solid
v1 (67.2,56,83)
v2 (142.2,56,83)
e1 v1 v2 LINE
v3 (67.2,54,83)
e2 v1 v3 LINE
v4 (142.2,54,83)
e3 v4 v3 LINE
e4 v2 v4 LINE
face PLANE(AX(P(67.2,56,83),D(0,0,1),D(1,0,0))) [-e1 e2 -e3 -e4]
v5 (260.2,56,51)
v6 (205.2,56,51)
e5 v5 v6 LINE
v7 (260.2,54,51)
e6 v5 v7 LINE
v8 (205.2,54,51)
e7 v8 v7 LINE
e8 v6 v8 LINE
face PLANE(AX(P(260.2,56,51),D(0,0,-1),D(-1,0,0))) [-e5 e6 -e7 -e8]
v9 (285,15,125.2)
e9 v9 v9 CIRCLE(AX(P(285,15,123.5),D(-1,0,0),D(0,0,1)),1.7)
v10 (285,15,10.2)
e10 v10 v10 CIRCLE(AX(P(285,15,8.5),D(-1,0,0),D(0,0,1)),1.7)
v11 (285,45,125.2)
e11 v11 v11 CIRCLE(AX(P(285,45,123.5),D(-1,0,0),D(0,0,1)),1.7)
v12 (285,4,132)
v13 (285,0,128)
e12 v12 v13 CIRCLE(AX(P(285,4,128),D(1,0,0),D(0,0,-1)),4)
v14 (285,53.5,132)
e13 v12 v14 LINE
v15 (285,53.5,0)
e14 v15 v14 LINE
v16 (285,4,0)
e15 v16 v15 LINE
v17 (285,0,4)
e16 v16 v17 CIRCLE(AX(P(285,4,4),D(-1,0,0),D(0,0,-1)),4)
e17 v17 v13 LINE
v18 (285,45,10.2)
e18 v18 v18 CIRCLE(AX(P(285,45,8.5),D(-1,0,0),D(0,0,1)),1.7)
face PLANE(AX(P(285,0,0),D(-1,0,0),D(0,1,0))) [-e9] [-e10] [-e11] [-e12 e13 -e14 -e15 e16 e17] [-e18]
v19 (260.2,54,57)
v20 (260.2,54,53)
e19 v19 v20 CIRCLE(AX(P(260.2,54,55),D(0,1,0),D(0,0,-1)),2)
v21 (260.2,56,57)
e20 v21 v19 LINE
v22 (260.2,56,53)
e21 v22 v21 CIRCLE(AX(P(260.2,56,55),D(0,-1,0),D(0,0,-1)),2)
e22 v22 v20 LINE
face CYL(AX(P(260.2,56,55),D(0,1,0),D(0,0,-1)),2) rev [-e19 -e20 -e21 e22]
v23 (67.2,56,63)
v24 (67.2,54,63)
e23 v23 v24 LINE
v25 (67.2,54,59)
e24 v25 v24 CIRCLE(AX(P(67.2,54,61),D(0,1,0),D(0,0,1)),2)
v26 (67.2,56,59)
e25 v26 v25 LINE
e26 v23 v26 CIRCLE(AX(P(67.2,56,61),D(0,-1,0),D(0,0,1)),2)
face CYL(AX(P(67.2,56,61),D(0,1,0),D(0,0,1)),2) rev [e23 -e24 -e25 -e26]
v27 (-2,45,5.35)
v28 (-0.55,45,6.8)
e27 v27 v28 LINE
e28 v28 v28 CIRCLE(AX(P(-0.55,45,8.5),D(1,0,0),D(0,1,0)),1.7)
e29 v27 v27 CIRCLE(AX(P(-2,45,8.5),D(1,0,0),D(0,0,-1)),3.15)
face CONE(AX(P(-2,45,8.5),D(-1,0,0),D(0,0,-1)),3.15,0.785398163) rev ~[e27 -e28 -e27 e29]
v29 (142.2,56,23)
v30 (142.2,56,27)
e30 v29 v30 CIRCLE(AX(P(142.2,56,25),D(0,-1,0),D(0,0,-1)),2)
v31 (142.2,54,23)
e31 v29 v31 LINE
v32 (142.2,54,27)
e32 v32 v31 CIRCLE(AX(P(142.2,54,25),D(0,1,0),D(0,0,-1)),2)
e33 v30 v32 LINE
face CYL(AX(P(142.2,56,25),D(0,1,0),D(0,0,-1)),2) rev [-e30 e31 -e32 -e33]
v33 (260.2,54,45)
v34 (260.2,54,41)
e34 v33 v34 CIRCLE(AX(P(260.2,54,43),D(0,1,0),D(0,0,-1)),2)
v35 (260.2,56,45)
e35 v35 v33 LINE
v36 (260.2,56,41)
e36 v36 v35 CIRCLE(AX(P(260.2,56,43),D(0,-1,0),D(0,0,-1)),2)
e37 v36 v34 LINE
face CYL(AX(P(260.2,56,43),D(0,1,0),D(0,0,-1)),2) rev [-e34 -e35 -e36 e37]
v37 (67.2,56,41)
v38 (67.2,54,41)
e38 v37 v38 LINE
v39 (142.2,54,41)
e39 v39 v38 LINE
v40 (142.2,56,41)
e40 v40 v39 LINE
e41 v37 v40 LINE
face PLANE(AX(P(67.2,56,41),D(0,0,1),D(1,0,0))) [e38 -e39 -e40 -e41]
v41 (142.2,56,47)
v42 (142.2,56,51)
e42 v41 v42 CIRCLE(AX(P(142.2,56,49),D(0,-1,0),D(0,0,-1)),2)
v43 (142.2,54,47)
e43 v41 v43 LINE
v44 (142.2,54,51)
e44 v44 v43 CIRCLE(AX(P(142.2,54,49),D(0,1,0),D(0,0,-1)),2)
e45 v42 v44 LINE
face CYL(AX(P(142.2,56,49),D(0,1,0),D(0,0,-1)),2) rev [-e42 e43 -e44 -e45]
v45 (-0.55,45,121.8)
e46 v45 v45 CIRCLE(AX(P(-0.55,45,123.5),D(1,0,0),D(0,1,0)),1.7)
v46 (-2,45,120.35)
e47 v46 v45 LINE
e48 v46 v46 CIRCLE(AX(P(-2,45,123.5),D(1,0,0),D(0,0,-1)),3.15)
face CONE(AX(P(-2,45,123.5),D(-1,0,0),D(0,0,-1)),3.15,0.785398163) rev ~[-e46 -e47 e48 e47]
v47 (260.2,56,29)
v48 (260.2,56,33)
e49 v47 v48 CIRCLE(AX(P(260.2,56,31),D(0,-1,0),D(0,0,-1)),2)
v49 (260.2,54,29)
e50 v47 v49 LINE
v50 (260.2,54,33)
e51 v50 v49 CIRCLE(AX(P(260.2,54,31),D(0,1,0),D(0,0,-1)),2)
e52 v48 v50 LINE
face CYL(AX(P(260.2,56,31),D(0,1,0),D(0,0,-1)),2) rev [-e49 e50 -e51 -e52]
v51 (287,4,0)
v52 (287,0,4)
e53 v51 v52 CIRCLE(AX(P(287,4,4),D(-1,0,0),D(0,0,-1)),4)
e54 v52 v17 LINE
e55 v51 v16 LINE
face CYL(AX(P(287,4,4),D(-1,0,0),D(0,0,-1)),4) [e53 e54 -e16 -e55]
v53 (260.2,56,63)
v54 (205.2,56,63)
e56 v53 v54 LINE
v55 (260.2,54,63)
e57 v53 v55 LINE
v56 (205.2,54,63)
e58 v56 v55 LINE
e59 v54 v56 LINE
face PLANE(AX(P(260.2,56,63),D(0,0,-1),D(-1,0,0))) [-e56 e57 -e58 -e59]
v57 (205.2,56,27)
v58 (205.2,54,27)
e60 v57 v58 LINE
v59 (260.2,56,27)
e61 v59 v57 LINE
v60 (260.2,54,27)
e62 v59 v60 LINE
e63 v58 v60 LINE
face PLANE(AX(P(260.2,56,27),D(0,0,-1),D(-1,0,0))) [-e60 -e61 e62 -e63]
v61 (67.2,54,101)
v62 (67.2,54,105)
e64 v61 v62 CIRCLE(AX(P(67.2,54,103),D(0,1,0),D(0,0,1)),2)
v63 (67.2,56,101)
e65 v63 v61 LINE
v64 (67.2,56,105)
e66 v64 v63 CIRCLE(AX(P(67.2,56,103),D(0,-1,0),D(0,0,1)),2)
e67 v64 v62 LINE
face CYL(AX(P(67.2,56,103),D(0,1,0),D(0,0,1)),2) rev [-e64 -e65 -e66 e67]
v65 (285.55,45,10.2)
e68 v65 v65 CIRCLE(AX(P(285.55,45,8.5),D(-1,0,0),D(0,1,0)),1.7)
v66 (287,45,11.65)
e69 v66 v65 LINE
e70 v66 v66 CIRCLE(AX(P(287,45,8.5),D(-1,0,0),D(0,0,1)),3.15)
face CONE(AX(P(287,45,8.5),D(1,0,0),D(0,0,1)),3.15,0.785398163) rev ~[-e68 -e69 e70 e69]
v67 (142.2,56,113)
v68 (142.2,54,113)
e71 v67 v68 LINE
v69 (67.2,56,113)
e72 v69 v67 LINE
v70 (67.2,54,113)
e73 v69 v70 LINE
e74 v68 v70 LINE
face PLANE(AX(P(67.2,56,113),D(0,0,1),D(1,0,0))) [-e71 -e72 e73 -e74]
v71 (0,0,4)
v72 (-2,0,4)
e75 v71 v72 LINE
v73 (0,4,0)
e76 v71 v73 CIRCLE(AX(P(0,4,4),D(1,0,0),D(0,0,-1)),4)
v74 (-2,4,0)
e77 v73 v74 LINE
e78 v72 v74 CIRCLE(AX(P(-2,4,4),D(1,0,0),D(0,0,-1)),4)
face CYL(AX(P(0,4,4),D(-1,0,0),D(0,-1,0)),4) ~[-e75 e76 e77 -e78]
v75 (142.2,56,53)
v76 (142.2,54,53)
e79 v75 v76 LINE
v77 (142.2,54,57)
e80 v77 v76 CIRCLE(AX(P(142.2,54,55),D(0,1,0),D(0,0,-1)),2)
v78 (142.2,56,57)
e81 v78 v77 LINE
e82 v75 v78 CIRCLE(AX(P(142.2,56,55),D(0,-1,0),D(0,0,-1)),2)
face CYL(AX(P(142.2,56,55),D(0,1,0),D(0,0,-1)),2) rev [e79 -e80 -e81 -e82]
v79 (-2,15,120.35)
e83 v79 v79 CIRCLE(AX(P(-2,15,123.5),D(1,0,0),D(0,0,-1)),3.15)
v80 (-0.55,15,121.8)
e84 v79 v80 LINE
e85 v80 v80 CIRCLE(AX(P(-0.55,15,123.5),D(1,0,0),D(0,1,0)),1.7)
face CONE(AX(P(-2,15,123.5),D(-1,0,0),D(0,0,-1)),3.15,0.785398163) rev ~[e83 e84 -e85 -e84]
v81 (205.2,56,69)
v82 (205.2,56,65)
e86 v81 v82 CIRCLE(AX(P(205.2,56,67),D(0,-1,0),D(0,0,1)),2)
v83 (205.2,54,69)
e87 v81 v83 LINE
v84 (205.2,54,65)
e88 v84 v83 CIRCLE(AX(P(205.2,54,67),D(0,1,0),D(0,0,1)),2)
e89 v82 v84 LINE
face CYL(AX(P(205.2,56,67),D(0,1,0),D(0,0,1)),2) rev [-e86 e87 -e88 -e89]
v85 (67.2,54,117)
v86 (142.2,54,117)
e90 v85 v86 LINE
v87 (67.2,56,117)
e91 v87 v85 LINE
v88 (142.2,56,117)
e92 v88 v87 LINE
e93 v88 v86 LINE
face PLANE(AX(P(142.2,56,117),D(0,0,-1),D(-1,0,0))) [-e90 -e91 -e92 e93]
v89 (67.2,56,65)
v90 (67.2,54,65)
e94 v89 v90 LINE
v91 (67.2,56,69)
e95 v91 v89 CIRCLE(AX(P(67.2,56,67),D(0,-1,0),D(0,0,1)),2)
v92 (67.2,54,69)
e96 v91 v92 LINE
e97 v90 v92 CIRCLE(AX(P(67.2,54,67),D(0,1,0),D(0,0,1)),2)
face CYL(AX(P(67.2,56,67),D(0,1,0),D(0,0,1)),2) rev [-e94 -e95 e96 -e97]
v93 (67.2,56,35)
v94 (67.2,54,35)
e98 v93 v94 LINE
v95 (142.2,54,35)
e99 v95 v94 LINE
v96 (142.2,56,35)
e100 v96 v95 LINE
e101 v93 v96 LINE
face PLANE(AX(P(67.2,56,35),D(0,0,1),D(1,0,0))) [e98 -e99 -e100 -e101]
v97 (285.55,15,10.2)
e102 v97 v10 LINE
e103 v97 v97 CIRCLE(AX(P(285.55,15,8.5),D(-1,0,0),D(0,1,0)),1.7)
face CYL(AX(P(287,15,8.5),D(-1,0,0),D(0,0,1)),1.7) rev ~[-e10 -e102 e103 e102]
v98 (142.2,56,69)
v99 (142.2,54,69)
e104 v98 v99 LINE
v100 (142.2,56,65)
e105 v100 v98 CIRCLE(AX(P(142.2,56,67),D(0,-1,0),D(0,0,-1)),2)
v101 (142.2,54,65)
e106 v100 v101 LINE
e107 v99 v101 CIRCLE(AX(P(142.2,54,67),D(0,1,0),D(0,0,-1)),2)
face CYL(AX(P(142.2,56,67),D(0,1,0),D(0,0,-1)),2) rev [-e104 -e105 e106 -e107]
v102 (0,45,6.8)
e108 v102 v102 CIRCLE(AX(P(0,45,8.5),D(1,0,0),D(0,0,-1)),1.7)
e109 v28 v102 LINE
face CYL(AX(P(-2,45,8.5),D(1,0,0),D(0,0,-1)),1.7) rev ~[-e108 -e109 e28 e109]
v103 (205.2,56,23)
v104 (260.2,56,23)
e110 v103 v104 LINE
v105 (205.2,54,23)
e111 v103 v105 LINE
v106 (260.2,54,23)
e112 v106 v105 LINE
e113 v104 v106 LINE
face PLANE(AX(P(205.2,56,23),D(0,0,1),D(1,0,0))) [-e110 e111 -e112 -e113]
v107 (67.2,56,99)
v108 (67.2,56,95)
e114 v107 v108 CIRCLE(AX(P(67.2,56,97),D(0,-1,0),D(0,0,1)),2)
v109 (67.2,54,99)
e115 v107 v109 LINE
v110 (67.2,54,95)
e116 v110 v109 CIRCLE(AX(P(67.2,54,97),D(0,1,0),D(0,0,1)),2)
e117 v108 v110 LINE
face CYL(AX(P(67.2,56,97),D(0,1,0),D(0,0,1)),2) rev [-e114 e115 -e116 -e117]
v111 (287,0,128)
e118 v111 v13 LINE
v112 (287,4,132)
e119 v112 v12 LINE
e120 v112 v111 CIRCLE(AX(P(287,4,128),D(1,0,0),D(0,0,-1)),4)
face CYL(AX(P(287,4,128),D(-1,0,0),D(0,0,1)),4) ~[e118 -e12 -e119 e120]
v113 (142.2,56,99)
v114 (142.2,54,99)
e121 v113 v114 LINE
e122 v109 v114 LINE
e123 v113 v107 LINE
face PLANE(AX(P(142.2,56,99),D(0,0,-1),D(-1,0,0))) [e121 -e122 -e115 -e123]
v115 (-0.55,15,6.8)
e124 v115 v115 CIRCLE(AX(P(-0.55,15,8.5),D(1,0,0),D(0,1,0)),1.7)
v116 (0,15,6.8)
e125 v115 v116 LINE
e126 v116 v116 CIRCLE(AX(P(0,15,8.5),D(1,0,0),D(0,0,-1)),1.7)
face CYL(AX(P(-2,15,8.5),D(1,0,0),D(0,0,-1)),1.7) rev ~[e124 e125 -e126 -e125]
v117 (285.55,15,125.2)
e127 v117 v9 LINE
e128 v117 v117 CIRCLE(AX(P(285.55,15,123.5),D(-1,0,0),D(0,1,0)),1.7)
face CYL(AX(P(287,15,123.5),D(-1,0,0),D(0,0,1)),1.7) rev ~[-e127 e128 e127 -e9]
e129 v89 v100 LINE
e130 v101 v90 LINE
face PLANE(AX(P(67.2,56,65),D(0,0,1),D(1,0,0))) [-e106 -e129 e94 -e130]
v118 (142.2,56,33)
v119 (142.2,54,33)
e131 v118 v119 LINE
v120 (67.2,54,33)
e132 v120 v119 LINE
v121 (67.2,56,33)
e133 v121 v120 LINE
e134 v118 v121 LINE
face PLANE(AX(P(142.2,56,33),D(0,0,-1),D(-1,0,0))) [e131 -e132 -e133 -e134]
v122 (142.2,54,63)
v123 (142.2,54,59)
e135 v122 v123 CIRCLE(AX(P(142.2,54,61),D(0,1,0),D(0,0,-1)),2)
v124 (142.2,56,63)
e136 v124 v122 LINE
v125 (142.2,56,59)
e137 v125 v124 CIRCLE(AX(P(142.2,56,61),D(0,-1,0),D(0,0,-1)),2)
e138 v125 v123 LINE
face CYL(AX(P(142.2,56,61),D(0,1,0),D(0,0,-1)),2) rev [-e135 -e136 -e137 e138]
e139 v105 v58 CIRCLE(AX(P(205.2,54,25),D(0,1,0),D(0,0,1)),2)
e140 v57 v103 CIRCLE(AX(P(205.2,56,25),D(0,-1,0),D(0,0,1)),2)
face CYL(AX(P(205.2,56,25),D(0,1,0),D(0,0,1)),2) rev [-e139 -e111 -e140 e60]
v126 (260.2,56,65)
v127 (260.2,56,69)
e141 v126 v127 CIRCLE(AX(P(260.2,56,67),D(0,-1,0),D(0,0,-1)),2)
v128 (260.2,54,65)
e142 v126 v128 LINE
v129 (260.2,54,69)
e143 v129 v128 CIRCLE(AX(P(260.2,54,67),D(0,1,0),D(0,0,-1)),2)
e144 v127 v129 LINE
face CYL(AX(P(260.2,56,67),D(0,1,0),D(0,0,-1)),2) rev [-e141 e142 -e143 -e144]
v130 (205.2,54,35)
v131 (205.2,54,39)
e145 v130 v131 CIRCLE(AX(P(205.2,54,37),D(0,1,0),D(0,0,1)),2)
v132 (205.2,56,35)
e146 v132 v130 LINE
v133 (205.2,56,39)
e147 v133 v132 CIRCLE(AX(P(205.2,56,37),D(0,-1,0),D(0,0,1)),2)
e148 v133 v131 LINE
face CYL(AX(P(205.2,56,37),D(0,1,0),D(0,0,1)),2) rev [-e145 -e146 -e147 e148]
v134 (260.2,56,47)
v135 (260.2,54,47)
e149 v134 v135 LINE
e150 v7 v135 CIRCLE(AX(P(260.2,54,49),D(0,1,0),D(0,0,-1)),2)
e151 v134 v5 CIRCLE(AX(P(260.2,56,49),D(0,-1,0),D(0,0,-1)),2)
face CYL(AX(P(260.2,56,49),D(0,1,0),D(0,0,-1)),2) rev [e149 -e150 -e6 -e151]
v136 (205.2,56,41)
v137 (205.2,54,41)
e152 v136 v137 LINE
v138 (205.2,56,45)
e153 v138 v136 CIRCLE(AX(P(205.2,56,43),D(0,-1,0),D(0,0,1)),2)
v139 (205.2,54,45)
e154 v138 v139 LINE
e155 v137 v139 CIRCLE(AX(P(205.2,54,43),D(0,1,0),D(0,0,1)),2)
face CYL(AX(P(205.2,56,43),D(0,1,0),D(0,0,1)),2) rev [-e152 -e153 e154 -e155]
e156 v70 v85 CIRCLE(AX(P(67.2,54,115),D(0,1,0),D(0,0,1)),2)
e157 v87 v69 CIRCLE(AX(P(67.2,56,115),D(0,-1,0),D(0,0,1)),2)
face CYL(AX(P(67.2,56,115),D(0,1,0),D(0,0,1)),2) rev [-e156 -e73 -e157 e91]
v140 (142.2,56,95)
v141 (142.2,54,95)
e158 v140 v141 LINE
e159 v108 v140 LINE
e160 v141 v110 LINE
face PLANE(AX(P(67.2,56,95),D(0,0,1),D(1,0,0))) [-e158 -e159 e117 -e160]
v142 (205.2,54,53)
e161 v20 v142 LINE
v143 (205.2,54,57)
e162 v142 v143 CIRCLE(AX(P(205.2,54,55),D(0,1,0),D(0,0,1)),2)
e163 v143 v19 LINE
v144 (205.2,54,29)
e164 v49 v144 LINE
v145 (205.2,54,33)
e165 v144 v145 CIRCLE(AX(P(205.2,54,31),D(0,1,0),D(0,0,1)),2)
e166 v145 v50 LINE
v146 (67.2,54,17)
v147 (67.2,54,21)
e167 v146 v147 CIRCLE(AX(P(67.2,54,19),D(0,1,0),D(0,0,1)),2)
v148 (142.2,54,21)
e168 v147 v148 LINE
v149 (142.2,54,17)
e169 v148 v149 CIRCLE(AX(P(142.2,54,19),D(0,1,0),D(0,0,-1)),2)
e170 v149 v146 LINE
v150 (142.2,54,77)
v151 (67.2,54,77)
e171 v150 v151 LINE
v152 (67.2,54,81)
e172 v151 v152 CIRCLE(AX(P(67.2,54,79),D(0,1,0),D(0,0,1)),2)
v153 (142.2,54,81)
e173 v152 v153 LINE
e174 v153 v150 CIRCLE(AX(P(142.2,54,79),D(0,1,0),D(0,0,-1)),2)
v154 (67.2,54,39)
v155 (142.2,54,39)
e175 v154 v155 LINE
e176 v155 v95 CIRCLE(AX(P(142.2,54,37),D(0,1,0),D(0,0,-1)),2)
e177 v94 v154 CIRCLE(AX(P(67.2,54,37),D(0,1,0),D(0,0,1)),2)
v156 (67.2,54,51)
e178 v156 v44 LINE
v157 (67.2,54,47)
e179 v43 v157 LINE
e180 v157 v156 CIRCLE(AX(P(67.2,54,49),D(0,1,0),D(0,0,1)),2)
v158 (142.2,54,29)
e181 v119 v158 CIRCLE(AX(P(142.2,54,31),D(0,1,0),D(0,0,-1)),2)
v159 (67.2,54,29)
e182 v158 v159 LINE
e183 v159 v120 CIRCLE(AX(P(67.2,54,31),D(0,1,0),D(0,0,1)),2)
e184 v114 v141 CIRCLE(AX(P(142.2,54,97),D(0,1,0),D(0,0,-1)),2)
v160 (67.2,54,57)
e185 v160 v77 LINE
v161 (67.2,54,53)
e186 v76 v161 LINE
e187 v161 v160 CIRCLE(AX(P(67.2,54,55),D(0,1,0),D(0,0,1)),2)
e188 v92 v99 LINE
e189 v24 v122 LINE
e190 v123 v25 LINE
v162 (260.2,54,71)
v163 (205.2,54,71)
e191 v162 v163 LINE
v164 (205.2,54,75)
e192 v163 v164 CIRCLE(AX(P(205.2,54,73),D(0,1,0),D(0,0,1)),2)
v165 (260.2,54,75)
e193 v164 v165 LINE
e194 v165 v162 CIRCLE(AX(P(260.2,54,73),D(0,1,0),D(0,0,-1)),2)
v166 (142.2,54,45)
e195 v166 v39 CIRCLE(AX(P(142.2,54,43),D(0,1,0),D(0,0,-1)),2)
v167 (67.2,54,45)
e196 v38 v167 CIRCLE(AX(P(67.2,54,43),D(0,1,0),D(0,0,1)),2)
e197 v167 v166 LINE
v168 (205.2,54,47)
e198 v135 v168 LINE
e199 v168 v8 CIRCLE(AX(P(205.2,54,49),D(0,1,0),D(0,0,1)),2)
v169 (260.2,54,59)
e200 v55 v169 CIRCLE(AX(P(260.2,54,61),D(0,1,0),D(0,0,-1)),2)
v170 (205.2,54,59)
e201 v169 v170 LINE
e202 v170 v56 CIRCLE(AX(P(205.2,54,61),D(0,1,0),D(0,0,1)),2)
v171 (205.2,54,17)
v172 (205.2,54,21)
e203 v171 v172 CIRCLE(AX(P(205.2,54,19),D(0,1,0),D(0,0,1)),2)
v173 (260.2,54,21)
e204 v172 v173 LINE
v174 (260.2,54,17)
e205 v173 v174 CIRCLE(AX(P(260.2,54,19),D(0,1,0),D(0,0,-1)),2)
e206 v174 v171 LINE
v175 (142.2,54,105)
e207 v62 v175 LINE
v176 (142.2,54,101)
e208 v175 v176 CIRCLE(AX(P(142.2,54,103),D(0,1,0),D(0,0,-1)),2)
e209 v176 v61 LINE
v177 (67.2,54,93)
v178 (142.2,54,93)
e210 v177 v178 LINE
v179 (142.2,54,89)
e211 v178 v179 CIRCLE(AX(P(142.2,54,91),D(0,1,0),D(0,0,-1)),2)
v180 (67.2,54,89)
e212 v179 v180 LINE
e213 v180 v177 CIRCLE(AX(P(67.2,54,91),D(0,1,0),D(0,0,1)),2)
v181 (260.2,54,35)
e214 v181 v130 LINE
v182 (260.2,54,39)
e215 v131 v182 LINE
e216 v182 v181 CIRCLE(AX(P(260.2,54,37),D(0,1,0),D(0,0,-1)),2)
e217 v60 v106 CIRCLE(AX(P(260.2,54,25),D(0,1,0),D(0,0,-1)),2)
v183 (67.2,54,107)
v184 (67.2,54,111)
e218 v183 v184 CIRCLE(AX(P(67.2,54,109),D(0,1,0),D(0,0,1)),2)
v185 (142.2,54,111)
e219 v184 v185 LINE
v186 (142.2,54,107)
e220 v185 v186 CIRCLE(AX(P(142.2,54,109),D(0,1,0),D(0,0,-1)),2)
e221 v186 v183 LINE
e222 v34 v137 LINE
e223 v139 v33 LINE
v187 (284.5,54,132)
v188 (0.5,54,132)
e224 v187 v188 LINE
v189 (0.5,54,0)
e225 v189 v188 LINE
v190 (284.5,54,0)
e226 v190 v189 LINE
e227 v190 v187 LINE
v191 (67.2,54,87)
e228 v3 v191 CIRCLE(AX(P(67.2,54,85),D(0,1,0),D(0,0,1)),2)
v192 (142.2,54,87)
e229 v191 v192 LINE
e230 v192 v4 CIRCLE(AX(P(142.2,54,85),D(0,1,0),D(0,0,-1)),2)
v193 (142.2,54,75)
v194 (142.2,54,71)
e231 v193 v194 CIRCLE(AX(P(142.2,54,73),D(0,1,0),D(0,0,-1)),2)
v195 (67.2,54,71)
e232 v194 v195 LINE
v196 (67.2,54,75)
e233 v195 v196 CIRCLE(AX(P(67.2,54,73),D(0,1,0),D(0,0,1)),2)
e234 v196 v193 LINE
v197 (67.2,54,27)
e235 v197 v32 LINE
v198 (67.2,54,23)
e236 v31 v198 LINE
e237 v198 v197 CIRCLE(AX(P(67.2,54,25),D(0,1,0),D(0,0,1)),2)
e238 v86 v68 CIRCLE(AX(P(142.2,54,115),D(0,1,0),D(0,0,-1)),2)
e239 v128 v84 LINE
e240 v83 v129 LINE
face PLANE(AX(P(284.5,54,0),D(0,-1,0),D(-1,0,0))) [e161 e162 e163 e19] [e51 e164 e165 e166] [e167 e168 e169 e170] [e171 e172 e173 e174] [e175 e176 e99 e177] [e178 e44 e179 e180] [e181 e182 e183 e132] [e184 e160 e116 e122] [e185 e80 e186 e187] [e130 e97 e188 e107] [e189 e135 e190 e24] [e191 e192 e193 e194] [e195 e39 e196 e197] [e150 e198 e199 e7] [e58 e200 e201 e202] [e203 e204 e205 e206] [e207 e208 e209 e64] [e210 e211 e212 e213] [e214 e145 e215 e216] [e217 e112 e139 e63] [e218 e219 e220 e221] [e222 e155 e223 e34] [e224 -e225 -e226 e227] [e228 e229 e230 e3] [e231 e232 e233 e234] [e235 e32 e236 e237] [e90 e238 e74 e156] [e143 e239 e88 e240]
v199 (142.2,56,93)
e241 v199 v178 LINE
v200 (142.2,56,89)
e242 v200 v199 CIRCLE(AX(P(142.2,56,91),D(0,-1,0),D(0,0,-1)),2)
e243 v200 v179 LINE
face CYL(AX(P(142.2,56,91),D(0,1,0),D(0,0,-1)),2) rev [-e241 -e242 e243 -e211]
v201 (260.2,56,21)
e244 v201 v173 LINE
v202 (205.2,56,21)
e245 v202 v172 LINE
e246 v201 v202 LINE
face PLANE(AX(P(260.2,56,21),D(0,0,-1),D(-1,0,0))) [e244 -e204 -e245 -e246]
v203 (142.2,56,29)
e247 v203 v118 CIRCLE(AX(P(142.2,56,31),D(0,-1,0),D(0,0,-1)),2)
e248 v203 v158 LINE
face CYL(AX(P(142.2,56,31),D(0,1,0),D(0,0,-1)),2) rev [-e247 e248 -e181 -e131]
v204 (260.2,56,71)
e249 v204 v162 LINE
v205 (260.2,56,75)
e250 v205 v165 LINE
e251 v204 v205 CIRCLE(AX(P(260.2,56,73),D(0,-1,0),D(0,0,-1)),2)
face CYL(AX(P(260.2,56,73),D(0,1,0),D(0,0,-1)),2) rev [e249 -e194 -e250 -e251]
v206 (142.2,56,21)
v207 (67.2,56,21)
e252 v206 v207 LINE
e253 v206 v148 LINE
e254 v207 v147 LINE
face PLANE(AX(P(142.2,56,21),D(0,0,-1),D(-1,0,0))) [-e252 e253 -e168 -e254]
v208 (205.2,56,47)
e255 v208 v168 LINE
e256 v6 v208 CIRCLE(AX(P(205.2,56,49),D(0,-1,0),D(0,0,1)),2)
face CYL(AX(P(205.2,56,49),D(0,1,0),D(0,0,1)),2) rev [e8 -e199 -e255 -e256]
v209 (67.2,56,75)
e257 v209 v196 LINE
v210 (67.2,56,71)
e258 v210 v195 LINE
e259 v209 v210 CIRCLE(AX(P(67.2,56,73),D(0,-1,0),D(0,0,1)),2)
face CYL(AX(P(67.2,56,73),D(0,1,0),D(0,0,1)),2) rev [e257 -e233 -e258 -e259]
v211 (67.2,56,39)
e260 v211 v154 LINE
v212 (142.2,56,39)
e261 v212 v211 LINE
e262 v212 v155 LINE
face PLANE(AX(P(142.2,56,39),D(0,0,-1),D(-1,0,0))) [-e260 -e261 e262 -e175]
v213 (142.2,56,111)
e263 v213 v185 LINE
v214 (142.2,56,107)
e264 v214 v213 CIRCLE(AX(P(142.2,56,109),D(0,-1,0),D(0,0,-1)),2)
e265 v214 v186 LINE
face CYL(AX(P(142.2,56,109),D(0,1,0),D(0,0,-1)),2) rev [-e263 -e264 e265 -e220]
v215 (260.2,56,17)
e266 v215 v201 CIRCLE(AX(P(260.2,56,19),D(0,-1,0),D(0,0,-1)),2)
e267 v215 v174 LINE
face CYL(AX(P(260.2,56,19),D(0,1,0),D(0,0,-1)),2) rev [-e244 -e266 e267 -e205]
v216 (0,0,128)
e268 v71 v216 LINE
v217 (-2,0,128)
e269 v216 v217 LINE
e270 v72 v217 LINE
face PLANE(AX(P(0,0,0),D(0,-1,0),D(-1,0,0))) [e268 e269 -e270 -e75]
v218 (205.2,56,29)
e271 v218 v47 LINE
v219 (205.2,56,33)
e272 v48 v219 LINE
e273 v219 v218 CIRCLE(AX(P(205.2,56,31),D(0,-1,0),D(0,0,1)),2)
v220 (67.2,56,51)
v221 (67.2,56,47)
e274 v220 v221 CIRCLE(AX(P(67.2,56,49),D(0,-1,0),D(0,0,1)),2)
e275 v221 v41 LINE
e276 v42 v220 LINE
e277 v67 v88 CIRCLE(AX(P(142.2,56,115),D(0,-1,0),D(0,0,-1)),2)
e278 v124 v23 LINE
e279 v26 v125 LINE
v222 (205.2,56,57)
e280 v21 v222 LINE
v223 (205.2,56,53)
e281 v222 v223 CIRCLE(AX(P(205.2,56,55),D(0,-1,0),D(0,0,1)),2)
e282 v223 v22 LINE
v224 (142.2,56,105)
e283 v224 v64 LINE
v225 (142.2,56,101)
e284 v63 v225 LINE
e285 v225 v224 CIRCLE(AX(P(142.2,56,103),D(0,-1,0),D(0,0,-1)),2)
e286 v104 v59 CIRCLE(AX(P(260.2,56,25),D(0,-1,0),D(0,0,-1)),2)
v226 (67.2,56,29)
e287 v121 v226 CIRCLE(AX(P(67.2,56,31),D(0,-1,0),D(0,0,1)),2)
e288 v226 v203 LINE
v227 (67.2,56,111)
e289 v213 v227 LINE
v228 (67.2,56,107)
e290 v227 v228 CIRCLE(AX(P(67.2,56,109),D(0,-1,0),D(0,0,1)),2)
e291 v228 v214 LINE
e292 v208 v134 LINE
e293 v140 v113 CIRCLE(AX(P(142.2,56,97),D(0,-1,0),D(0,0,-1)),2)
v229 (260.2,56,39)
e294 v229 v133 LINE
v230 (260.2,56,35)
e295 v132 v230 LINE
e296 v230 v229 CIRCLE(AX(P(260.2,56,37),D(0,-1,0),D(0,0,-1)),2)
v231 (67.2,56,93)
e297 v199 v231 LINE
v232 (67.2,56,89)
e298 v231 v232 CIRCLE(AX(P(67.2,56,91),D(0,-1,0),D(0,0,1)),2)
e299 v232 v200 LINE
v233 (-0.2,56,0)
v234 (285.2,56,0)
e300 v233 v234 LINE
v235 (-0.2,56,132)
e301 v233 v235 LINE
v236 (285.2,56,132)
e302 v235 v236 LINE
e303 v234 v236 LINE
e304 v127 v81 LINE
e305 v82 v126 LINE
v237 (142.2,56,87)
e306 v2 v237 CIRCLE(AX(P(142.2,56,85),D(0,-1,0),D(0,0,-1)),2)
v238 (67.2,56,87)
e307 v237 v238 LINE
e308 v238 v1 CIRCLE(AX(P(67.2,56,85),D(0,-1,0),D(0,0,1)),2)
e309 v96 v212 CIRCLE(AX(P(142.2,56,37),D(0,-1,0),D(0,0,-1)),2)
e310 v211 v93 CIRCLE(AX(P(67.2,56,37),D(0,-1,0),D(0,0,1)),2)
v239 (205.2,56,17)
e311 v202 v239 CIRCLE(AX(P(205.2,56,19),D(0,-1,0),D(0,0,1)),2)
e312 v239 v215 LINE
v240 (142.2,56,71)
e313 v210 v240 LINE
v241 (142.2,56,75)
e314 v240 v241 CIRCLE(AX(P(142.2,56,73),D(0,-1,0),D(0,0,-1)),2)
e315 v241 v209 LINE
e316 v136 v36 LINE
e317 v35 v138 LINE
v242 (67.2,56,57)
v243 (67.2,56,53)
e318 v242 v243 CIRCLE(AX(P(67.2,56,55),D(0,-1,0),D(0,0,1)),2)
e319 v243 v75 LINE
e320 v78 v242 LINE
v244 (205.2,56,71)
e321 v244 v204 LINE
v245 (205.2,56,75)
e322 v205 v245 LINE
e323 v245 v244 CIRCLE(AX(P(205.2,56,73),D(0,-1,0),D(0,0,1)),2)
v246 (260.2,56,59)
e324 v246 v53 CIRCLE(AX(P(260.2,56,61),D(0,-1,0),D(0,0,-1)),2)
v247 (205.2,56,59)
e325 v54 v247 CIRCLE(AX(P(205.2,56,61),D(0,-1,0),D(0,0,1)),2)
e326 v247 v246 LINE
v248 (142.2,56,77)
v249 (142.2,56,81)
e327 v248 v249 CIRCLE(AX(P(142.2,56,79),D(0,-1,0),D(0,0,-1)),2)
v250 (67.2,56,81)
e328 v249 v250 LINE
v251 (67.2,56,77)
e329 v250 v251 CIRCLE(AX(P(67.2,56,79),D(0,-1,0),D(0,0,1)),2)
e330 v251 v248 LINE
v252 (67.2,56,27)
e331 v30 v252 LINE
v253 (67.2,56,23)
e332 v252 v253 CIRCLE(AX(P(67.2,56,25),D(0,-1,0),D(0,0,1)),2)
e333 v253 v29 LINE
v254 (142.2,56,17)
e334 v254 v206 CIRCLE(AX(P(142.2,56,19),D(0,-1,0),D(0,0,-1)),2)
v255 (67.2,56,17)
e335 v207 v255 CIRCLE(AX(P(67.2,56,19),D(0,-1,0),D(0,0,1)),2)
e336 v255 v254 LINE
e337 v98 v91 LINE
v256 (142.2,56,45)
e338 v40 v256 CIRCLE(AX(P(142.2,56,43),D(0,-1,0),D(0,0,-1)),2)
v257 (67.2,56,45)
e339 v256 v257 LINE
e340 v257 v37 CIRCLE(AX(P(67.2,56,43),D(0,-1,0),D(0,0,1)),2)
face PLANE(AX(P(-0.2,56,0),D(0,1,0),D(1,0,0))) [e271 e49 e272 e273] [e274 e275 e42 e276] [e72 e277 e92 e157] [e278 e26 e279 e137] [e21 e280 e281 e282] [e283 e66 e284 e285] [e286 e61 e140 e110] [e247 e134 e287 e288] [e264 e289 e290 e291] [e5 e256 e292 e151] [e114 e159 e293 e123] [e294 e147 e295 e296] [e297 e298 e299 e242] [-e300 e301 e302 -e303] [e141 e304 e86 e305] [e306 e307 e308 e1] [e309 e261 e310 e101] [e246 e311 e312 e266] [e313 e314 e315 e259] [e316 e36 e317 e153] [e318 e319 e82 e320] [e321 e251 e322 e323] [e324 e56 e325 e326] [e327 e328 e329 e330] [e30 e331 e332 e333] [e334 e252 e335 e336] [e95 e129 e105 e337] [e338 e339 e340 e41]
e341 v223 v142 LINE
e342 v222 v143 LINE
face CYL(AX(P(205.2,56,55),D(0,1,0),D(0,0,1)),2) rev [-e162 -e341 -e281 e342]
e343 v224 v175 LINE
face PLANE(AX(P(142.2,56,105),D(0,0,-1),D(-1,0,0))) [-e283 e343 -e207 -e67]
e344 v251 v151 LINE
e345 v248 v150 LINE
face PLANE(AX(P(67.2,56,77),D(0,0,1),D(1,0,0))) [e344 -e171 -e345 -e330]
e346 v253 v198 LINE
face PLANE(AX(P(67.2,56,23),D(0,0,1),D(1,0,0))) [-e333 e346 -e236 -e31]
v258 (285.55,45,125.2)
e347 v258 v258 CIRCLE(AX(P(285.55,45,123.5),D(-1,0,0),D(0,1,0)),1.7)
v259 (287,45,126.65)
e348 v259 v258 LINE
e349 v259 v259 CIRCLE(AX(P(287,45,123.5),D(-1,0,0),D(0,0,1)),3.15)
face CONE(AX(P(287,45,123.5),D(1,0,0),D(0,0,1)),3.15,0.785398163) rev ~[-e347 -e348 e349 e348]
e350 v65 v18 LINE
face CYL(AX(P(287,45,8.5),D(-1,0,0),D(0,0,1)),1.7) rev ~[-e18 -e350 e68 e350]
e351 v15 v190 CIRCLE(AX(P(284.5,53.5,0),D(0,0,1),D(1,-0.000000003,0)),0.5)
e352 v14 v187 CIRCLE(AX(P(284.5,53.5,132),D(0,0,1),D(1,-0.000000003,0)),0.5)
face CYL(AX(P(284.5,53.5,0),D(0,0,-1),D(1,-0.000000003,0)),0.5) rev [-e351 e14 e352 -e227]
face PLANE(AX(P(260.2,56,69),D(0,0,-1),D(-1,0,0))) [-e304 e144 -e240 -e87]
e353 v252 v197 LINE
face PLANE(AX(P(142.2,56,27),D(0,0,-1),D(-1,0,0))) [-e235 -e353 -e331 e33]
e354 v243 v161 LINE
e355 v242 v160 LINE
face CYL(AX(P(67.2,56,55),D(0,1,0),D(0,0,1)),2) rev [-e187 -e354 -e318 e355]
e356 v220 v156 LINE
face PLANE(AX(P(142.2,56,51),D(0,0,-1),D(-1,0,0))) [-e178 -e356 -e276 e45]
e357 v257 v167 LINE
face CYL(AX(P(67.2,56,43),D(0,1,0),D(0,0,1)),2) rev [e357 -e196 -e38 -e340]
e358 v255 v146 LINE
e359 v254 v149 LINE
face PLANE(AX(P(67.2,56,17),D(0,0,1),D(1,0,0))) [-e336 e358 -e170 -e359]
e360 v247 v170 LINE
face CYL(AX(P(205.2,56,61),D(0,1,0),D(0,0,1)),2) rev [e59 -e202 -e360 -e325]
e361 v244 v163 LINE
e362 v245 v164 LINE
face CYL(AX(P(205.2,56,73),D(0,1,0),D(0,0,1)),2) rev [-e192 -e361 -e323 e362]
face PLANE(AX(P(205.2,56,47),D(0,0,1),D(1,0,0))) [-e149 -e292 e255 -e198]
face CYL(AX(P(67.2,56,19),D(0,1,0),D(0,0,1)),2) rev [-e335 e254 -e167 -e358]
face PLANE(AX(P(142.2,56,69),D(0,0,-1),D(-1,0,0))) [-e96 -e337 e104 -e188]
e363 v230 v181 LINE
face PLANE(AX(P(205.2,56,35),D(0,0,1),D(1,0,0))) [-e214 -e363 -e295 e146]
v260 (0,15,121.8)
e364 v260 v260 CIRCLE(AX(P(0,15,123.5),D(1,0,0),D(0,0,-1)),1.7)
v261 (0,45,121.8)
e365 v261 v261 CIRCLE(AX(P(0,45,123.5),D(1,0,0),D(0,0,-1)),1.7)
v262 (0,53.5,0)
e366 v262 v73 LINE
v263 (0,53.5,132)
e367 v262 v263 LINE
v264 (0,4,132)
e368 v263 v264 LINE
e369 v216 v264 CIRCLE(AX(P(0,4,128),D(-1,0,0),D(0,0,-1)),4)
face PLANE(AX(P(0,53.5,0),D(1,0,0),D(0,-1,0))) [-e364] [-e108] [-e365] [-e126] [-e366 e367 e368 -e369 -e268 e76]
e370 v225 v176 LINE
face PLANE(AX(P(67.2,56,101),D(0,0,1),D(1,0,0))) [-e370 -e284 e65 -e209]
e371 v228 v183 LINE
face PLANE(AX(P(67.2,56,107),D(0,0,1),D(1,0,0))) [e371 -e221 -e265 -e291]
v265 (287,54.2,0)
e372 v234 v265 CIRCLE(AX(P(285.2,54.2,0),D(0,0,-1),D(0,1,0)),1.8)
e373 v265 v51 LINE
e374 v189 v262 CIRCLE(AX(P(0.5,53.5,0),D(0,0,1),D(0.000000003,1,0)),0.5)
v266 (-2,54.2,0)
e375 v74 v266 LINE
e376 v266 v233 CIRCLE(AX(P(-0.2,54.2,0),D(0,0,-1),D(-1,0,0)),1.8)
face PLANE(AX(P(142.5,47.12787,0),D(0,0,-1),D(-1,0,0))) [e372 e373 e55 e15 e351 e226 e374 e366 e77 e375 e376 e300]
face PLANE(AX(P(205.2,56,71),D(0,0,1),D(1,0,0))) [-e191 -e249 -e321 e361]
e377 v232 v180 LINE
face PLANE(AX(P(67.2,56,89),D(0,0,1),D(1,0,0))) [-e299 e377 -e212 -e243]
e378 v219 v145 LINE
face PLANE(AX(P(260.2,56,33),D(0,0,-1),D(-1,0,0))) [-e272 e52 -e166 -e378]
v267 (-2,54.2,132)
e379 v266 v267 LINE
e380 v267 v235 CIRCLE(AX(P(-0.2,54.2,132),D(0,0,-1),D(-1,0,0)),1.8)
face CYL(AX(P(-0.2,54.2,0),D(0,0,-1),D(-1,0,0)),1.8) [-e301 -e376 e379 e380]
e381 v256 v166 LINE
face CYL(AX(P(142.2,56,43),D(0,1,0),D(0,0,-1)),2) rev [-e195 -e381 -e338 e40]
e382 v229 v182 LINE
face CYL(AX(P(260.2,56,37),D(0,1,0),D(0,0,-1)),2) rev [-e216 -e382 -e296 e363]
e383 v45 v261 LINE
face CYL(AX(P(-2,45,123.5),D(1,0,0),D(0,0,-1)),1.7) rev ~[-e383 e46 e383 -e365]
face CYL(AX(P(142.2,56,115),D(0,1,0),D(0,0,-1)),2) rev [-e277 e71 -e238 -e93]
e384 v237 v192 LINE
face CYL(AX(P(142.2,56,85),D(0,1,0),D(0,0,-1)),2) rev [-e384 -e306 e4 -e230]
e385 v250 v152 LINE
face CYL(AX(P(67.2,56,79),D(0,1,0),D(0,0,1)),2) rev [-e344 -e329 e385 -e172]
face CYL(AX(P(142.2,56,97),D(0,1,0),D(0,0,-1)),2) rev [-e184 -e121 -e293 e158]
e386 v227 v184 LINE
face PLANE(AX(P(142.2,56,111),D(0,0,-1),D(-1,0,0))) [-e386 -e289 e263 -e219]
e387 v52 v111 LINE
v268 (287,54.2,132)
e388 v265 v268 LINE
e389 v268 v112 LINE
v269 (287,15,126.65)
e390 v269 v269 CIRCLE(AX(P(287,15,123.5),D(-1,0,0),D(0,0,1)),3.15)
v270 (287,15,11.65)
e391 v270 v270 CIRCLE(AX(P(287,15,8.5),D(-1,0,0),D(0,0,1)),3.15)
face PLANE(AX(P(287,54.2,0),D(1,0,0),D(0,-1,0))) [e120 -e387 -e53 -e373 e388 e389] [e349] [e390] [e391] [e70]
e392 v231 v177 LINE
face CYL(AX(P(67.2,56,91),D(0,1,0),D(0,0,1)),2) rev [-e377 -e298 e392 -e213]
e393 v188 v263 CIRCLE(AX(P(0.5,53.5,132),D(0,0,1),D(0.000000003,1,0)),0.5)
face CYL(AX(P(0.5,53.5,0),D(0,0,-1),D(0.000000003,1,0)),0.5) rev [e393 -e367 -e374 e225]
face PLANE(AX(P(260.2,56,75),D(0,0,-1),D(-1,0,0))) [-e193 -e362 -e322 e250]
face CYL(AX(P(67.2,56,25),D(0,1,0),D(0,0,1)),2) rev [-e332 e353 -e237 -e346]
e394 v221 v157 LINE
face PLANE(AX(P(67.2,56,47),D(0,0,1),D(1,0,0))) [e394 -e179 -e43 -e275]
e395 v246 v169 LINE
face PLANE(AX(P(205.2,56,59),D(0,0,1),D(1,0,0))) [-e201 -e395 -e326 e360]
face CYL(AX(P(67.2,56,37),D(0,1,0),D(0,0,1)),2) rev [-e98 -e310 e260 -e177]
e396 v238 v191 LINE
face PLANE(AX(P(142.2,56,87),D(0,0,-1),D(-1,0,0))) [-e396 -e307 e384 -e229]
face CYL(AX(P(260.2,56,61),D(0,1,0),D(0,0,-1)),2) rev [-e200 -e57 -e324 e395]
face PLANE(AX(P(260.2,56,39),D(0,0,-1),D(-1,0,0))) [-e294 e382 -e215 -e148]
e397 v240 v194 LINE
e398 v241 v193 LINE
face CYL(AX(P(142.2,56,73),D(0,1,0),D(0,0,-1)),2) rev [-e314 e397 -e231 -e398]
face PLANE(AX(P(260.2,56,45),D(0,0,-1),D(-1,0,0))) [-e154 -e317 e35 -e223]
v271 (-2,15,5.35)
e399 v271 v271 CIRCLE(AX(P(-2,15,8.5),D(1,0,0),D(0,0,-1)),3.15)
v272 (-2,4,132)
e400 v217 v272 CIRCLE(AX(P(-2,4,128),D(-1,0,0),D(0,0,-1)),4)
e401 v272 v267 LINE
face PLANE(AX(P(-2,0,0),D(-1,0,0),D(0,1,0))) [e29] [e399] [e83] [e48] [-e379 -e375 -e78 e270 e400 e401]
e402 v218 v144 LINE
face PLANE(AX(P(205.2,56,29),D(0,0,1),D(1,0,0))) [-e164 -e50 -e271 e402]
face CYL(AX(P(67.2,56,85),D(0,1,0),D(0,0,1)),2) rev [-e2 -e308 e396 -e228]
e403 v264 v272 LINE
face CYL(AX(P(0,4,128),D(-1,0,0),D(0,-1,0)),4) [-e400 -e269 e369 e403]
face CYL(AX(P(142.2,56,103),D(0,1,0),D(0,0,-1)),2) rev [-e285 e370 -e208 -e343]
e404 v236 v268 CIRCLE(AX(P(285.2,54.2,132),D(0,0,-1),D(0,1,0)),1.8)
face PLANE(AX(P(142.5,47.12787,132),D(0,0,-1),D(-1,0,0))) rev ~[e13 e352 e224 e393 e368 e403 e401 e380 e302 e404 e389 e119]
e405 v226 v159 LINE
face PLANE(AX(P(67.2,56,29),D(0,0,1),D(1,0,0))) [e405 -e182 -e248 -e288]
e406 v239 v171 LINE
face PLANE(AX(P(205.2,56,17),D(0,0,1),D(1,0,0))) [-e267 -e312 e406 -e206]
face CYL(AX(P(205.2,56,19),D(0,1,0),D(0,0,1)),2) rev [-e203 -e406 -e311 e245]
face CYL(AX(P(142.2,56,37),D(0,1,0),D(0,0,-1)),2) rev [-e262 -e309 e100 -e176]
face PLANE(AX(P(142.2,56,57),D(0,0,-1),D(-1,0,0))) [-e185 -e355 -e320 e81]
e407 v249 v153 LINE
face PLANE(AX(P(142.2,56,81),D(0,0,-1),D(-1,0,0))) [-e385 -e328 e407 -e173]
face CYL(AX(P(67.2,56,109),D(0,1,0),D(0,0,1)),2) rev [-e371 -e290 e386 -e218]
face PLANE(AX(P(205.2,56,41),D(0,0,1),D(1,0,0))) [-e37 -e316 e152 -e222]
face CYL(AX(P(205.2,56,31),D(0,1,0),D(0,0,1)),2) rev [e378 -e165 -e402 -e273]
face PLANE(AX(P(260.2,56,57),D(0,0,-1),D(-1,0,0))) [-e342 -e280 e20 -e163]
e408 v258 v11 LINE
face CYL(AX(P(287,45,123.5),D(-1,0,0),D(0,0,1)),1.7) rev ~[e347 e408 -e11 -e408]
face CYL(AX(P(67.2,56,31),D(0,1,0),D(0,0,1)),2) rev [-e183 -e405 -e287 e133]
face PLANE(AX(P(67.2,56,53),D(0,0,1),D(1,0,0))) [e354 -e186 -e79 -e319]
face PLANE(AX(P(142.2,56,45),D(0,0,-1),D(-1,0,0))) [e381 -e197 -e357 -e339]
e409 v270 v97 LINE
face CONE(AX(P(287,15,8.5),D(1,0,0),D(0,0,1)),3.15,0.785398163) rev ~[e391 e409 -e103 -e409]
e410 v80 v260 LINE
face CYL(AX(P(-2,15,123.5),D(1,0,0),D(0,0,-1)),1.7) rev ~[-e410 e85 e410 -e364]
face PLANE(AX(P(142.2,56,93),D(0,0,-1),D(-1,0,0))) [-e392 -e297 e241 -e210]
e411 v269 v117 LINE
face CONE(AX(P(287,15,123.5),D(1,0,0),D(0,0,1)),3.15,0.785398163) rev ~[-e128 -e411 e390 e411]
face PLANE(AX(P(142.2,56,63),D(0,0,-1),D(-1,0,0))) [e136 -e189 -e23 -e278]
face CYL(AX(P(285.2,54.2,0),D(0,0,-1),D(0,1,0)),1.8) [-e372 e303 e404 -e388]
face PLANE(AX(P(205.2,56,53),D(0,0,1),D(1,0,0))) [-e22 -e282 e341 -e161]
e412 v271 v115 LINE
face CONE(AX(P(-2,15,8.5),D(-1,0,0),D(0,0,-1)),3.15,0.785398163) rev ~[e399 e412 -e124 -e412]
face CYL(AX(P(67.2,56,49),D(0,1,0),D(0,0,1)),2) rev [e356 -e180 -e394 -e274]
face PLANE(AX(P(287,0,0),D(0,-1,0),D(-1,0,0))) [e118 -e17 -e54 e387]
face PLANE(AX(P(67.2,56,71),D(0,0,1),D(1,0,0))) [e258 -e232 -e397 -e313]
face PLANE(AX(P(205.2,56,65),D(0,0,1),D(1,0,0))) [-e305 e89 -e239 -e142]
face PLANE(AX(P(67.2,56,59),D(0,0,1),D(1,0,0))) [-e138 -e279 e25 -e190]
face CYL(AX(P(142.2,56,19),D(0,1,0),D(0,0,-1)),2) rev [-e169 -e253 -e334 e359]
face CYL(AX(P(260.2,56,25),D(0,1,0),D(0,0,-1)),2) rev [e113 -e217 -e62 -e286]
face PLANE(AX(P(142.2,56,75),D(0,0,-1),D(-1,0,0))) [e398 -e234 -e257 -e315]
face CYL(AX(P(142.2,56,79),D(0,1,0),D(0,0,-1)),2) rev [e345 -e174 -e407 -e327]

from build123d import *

# Parameters (mm, degrees)
BOSS_EXTRUDE1_DEPTH                             = 132
CSK_FOR_M3_FLAT_HEAD_MACHINE_SCREW1_D           = 3.4
CSK_FOR_M3_FLAT_HEAD_MACHINE_SCREW1_DEPTH       = 5
CSK_FOR_M3_FLAT_HEAD_MACHINE_SCREW1_CSINK_D     = 6.3
CSK_FOR_M3_FLAT_HEAD_MACHINE_SCREW1_CSINK_ANGLE = 90
CSK_FOR_M3_FLAT_HEAD_MACHINE_SCREW1_TIP         = 1.021463052
CSK_FOR_M3_FLAT_HEAD_MACHINE_SCREW2_D           = 3.4
CSK_FOR_M3_FLAT_HEAD_MACHINE_SCREW2_DEPTH       = 5
CSK_FOR_M3_FLAT_HEAD_MACHINE_SCREW2_CSINK_D     = 6.3
CSK_FOR_M3_FLAT_HEAD_MACHINE_SCREW2_CSINK_ANGLE = 90
CSK_FOR_M3_FLAT_HEAD_MACHINE_SCREW2_TIP         = 1.021463052
CUT_EXTRUDE1_DEPTH                              = 5
LPATTERN1_COUNT                                 = 17
LPATTERN1_PITCH                                 = 6
CUT_EXTRUDE2_DEPTH                              = 200
LPATTERN2_COUNT                                 = 10
LPATTERN2_PITCH                                 = 6
FILLET1_R                                       = 4


with BuildPart() as part:
    # Sketch1 → Boss-Extrude1 (new body)
    with BuildSketch(Plane.XY):
        with BuildLine():
            Line((0, 0), (-2, 0))
            Line((-2, 0), (-2, 54.2))
            ThreePointArc((-2, 54.2), (-1.472792206, 55.472792206), (-0.2, 56))
            Line((-0.2, 56), (285.2, 56))
            ThreePointArc((285.2, 56), (286.472792206, 55.472792206), (287, 54.2))
            Line((287, 54.2), (287, 0))
            Line((287, 0), (285, 0))
            Line((285, 0), (285, 53.5))
            ThreePointArc((285, 53.5), (284.853553391, 53.853553391), (284.5, 54))
            Line((284.5, 54), (0.5, 54))
            ThreePointArc((0.5, 54), (0.146446609, 53.853553391), (0, 53.5))
            Line((0, 53.5), (0, 0))
        make_face()
    extrude(amount=BOSS_EXTRUDE1_DEPTH)

    # CSK for M3 Flat Head Machine Screw1
    with Locations(Plane.ZY.offset(2)):
        with Locations((8.5, 45), (8.5, 15), (123.5, 45), (123.5, 15)):
            CounterSinkHole(CSK_FOR_M3_FLAT_HEAD_MACHINE_SCREW1_D / 2, CSK_FOR_M3_FLAT_HEAD_MACHINE_SCREW1_CSINK_D / 2, depth=CSK_FOR_M3_FLAT_HEAD_MACHINE_SCREW1_DEPTH, counter_sink_angle=CSK_FOR_M3_FLAT_HEAD_MACHINE_SCREW1_CSINK_ANGLE)
            with Locations((0, 0, -(CSK_FOR_M3_FLAT_HEAD_MACHINE_SCREW1_DEPTH + CSK_FOR_M3_FLAT_HEAD_MACHINE_SCREW1_TIP / 2))):  # 118° drill point
                Cone(0, CSK_FOR_M3_FLAT_HEAD_MACHINE_SCREW1_D / 2, CSK_FOR_M3_FLAT_HEAD_MACHINE_SCREW1_TIP, mode=Mode.SUBTRACT)

    # CSK for M3 Flat Head Machine Screw2
    with Locations(Plane(origin=(287, 0, 0), x_dir=(0, 0, -1), z_dir=(1, 0, 0))):
        with Locations((-123.5, 45), (-123.5, 15), (-8.5, 45), (-8.5, 15)):
            CounterSinkHole(CSK_FOR_M3_FLAT_HEAD_MACHINE_SCREW2_D / 2, CSK_FOR_M3_FLAT_HEAD_MACHINE_SCREW2_CSINK_D / 2, depth=CSK_FOR_M3_FLAT_HEAD_MACHINE_SCREW2_DEPTH, counter_sink_angle=CSK_FOR_M3_FLAT_HEAD_MACHINE_SCREW2_CSINK_ANGLE)
            with Locations((0, 0, -(CSK_FOR_M3_FLAT_HEAD_MACHINE_SCREW2_DEPTH + CSK_FOR_M3_FLAT_HEAD_MACHINE_SCREW2_TIP / 2))):  # 118° drill point
                Cone(0, CSK_FOR_M3_FLAT_HEAD_MACHINE_SCREW2_D / 2, CSK_FOR_M3_FLAT_HEAD_MACHINE_SCREW2_TIP, mode=Mode.SUBTRACT)

    # Sketch6 → Cut-Extrude1 (cut)
    with BuildSketch(Plane(origin=(0, 56, 0), x_dir=(1, 0, 0), z_dir=(0, 1, 0))):
        with BuildLine():
            Line((67.2, -17), (142.2, -17))
            ThreePointArc((142.2, -17), (144.2, -19), (142.2, -21))
            Line((142.2, -21), (67.2, -21))
            ThreePointArc((67.2, -21), (65.2, -19), (67.2, -17))
        make_face()
    cut_extrude1 = extrude(amount=-CUT_EXTRUDE1_DEPTH, mode=Mode.SUBTRACT)

    # LPattern1: Cut-Extrude1 ×17
    with Locations(*[(0, 0, i * LPATTERN1_PITCH) for i in range(1, LPATTERN1_COUNT)]):
        add(cut_extrude1, mode=Mode.SUBTRACT)

    # Sketch7 → Cut-Extrude2 (cut)
    with BuildSketch(Plane(origin=(0, 56, 0), x_dir=(1, 0, 0), z_dir=(0, 1, 0))):
        with BuildLine():
            Line((205.2, -17), (260.2, -17))
            ThreePointArc((260.2, -17), (262.2, -19), (260.2, -21))
            Line((260.2, -21), (205.2, -21))
            ThreePointArc((205.2, -21), (203.2, -19), (205.2, -17))
        make_face()
    cut_extrude2 = extrude(amount=-CUT_EXTRUDE2_DEPTH, mode=Mode.SUBTRACT)

    # LPattern2: Cut-Extrude2 ×10
    with Locations(*[(0, 0, i * LPATTERN2_PITCH) for i in range(1, LPATTERN2_COUNT)]):
        add(cut_extrude2, mode=Mode.SUBTRACT)

    # Fillet1
    fillet1_edges = [part.edges().sort_by_distance(p)[0] for p in [
        (-1, 0, 0),
        (286, 0, 0),
        (286, 0, 132),
        (-1, 0, 132),
    ]]
    fillet(fillet1_edges, radius=FILLET1_R)


solid = part.part
